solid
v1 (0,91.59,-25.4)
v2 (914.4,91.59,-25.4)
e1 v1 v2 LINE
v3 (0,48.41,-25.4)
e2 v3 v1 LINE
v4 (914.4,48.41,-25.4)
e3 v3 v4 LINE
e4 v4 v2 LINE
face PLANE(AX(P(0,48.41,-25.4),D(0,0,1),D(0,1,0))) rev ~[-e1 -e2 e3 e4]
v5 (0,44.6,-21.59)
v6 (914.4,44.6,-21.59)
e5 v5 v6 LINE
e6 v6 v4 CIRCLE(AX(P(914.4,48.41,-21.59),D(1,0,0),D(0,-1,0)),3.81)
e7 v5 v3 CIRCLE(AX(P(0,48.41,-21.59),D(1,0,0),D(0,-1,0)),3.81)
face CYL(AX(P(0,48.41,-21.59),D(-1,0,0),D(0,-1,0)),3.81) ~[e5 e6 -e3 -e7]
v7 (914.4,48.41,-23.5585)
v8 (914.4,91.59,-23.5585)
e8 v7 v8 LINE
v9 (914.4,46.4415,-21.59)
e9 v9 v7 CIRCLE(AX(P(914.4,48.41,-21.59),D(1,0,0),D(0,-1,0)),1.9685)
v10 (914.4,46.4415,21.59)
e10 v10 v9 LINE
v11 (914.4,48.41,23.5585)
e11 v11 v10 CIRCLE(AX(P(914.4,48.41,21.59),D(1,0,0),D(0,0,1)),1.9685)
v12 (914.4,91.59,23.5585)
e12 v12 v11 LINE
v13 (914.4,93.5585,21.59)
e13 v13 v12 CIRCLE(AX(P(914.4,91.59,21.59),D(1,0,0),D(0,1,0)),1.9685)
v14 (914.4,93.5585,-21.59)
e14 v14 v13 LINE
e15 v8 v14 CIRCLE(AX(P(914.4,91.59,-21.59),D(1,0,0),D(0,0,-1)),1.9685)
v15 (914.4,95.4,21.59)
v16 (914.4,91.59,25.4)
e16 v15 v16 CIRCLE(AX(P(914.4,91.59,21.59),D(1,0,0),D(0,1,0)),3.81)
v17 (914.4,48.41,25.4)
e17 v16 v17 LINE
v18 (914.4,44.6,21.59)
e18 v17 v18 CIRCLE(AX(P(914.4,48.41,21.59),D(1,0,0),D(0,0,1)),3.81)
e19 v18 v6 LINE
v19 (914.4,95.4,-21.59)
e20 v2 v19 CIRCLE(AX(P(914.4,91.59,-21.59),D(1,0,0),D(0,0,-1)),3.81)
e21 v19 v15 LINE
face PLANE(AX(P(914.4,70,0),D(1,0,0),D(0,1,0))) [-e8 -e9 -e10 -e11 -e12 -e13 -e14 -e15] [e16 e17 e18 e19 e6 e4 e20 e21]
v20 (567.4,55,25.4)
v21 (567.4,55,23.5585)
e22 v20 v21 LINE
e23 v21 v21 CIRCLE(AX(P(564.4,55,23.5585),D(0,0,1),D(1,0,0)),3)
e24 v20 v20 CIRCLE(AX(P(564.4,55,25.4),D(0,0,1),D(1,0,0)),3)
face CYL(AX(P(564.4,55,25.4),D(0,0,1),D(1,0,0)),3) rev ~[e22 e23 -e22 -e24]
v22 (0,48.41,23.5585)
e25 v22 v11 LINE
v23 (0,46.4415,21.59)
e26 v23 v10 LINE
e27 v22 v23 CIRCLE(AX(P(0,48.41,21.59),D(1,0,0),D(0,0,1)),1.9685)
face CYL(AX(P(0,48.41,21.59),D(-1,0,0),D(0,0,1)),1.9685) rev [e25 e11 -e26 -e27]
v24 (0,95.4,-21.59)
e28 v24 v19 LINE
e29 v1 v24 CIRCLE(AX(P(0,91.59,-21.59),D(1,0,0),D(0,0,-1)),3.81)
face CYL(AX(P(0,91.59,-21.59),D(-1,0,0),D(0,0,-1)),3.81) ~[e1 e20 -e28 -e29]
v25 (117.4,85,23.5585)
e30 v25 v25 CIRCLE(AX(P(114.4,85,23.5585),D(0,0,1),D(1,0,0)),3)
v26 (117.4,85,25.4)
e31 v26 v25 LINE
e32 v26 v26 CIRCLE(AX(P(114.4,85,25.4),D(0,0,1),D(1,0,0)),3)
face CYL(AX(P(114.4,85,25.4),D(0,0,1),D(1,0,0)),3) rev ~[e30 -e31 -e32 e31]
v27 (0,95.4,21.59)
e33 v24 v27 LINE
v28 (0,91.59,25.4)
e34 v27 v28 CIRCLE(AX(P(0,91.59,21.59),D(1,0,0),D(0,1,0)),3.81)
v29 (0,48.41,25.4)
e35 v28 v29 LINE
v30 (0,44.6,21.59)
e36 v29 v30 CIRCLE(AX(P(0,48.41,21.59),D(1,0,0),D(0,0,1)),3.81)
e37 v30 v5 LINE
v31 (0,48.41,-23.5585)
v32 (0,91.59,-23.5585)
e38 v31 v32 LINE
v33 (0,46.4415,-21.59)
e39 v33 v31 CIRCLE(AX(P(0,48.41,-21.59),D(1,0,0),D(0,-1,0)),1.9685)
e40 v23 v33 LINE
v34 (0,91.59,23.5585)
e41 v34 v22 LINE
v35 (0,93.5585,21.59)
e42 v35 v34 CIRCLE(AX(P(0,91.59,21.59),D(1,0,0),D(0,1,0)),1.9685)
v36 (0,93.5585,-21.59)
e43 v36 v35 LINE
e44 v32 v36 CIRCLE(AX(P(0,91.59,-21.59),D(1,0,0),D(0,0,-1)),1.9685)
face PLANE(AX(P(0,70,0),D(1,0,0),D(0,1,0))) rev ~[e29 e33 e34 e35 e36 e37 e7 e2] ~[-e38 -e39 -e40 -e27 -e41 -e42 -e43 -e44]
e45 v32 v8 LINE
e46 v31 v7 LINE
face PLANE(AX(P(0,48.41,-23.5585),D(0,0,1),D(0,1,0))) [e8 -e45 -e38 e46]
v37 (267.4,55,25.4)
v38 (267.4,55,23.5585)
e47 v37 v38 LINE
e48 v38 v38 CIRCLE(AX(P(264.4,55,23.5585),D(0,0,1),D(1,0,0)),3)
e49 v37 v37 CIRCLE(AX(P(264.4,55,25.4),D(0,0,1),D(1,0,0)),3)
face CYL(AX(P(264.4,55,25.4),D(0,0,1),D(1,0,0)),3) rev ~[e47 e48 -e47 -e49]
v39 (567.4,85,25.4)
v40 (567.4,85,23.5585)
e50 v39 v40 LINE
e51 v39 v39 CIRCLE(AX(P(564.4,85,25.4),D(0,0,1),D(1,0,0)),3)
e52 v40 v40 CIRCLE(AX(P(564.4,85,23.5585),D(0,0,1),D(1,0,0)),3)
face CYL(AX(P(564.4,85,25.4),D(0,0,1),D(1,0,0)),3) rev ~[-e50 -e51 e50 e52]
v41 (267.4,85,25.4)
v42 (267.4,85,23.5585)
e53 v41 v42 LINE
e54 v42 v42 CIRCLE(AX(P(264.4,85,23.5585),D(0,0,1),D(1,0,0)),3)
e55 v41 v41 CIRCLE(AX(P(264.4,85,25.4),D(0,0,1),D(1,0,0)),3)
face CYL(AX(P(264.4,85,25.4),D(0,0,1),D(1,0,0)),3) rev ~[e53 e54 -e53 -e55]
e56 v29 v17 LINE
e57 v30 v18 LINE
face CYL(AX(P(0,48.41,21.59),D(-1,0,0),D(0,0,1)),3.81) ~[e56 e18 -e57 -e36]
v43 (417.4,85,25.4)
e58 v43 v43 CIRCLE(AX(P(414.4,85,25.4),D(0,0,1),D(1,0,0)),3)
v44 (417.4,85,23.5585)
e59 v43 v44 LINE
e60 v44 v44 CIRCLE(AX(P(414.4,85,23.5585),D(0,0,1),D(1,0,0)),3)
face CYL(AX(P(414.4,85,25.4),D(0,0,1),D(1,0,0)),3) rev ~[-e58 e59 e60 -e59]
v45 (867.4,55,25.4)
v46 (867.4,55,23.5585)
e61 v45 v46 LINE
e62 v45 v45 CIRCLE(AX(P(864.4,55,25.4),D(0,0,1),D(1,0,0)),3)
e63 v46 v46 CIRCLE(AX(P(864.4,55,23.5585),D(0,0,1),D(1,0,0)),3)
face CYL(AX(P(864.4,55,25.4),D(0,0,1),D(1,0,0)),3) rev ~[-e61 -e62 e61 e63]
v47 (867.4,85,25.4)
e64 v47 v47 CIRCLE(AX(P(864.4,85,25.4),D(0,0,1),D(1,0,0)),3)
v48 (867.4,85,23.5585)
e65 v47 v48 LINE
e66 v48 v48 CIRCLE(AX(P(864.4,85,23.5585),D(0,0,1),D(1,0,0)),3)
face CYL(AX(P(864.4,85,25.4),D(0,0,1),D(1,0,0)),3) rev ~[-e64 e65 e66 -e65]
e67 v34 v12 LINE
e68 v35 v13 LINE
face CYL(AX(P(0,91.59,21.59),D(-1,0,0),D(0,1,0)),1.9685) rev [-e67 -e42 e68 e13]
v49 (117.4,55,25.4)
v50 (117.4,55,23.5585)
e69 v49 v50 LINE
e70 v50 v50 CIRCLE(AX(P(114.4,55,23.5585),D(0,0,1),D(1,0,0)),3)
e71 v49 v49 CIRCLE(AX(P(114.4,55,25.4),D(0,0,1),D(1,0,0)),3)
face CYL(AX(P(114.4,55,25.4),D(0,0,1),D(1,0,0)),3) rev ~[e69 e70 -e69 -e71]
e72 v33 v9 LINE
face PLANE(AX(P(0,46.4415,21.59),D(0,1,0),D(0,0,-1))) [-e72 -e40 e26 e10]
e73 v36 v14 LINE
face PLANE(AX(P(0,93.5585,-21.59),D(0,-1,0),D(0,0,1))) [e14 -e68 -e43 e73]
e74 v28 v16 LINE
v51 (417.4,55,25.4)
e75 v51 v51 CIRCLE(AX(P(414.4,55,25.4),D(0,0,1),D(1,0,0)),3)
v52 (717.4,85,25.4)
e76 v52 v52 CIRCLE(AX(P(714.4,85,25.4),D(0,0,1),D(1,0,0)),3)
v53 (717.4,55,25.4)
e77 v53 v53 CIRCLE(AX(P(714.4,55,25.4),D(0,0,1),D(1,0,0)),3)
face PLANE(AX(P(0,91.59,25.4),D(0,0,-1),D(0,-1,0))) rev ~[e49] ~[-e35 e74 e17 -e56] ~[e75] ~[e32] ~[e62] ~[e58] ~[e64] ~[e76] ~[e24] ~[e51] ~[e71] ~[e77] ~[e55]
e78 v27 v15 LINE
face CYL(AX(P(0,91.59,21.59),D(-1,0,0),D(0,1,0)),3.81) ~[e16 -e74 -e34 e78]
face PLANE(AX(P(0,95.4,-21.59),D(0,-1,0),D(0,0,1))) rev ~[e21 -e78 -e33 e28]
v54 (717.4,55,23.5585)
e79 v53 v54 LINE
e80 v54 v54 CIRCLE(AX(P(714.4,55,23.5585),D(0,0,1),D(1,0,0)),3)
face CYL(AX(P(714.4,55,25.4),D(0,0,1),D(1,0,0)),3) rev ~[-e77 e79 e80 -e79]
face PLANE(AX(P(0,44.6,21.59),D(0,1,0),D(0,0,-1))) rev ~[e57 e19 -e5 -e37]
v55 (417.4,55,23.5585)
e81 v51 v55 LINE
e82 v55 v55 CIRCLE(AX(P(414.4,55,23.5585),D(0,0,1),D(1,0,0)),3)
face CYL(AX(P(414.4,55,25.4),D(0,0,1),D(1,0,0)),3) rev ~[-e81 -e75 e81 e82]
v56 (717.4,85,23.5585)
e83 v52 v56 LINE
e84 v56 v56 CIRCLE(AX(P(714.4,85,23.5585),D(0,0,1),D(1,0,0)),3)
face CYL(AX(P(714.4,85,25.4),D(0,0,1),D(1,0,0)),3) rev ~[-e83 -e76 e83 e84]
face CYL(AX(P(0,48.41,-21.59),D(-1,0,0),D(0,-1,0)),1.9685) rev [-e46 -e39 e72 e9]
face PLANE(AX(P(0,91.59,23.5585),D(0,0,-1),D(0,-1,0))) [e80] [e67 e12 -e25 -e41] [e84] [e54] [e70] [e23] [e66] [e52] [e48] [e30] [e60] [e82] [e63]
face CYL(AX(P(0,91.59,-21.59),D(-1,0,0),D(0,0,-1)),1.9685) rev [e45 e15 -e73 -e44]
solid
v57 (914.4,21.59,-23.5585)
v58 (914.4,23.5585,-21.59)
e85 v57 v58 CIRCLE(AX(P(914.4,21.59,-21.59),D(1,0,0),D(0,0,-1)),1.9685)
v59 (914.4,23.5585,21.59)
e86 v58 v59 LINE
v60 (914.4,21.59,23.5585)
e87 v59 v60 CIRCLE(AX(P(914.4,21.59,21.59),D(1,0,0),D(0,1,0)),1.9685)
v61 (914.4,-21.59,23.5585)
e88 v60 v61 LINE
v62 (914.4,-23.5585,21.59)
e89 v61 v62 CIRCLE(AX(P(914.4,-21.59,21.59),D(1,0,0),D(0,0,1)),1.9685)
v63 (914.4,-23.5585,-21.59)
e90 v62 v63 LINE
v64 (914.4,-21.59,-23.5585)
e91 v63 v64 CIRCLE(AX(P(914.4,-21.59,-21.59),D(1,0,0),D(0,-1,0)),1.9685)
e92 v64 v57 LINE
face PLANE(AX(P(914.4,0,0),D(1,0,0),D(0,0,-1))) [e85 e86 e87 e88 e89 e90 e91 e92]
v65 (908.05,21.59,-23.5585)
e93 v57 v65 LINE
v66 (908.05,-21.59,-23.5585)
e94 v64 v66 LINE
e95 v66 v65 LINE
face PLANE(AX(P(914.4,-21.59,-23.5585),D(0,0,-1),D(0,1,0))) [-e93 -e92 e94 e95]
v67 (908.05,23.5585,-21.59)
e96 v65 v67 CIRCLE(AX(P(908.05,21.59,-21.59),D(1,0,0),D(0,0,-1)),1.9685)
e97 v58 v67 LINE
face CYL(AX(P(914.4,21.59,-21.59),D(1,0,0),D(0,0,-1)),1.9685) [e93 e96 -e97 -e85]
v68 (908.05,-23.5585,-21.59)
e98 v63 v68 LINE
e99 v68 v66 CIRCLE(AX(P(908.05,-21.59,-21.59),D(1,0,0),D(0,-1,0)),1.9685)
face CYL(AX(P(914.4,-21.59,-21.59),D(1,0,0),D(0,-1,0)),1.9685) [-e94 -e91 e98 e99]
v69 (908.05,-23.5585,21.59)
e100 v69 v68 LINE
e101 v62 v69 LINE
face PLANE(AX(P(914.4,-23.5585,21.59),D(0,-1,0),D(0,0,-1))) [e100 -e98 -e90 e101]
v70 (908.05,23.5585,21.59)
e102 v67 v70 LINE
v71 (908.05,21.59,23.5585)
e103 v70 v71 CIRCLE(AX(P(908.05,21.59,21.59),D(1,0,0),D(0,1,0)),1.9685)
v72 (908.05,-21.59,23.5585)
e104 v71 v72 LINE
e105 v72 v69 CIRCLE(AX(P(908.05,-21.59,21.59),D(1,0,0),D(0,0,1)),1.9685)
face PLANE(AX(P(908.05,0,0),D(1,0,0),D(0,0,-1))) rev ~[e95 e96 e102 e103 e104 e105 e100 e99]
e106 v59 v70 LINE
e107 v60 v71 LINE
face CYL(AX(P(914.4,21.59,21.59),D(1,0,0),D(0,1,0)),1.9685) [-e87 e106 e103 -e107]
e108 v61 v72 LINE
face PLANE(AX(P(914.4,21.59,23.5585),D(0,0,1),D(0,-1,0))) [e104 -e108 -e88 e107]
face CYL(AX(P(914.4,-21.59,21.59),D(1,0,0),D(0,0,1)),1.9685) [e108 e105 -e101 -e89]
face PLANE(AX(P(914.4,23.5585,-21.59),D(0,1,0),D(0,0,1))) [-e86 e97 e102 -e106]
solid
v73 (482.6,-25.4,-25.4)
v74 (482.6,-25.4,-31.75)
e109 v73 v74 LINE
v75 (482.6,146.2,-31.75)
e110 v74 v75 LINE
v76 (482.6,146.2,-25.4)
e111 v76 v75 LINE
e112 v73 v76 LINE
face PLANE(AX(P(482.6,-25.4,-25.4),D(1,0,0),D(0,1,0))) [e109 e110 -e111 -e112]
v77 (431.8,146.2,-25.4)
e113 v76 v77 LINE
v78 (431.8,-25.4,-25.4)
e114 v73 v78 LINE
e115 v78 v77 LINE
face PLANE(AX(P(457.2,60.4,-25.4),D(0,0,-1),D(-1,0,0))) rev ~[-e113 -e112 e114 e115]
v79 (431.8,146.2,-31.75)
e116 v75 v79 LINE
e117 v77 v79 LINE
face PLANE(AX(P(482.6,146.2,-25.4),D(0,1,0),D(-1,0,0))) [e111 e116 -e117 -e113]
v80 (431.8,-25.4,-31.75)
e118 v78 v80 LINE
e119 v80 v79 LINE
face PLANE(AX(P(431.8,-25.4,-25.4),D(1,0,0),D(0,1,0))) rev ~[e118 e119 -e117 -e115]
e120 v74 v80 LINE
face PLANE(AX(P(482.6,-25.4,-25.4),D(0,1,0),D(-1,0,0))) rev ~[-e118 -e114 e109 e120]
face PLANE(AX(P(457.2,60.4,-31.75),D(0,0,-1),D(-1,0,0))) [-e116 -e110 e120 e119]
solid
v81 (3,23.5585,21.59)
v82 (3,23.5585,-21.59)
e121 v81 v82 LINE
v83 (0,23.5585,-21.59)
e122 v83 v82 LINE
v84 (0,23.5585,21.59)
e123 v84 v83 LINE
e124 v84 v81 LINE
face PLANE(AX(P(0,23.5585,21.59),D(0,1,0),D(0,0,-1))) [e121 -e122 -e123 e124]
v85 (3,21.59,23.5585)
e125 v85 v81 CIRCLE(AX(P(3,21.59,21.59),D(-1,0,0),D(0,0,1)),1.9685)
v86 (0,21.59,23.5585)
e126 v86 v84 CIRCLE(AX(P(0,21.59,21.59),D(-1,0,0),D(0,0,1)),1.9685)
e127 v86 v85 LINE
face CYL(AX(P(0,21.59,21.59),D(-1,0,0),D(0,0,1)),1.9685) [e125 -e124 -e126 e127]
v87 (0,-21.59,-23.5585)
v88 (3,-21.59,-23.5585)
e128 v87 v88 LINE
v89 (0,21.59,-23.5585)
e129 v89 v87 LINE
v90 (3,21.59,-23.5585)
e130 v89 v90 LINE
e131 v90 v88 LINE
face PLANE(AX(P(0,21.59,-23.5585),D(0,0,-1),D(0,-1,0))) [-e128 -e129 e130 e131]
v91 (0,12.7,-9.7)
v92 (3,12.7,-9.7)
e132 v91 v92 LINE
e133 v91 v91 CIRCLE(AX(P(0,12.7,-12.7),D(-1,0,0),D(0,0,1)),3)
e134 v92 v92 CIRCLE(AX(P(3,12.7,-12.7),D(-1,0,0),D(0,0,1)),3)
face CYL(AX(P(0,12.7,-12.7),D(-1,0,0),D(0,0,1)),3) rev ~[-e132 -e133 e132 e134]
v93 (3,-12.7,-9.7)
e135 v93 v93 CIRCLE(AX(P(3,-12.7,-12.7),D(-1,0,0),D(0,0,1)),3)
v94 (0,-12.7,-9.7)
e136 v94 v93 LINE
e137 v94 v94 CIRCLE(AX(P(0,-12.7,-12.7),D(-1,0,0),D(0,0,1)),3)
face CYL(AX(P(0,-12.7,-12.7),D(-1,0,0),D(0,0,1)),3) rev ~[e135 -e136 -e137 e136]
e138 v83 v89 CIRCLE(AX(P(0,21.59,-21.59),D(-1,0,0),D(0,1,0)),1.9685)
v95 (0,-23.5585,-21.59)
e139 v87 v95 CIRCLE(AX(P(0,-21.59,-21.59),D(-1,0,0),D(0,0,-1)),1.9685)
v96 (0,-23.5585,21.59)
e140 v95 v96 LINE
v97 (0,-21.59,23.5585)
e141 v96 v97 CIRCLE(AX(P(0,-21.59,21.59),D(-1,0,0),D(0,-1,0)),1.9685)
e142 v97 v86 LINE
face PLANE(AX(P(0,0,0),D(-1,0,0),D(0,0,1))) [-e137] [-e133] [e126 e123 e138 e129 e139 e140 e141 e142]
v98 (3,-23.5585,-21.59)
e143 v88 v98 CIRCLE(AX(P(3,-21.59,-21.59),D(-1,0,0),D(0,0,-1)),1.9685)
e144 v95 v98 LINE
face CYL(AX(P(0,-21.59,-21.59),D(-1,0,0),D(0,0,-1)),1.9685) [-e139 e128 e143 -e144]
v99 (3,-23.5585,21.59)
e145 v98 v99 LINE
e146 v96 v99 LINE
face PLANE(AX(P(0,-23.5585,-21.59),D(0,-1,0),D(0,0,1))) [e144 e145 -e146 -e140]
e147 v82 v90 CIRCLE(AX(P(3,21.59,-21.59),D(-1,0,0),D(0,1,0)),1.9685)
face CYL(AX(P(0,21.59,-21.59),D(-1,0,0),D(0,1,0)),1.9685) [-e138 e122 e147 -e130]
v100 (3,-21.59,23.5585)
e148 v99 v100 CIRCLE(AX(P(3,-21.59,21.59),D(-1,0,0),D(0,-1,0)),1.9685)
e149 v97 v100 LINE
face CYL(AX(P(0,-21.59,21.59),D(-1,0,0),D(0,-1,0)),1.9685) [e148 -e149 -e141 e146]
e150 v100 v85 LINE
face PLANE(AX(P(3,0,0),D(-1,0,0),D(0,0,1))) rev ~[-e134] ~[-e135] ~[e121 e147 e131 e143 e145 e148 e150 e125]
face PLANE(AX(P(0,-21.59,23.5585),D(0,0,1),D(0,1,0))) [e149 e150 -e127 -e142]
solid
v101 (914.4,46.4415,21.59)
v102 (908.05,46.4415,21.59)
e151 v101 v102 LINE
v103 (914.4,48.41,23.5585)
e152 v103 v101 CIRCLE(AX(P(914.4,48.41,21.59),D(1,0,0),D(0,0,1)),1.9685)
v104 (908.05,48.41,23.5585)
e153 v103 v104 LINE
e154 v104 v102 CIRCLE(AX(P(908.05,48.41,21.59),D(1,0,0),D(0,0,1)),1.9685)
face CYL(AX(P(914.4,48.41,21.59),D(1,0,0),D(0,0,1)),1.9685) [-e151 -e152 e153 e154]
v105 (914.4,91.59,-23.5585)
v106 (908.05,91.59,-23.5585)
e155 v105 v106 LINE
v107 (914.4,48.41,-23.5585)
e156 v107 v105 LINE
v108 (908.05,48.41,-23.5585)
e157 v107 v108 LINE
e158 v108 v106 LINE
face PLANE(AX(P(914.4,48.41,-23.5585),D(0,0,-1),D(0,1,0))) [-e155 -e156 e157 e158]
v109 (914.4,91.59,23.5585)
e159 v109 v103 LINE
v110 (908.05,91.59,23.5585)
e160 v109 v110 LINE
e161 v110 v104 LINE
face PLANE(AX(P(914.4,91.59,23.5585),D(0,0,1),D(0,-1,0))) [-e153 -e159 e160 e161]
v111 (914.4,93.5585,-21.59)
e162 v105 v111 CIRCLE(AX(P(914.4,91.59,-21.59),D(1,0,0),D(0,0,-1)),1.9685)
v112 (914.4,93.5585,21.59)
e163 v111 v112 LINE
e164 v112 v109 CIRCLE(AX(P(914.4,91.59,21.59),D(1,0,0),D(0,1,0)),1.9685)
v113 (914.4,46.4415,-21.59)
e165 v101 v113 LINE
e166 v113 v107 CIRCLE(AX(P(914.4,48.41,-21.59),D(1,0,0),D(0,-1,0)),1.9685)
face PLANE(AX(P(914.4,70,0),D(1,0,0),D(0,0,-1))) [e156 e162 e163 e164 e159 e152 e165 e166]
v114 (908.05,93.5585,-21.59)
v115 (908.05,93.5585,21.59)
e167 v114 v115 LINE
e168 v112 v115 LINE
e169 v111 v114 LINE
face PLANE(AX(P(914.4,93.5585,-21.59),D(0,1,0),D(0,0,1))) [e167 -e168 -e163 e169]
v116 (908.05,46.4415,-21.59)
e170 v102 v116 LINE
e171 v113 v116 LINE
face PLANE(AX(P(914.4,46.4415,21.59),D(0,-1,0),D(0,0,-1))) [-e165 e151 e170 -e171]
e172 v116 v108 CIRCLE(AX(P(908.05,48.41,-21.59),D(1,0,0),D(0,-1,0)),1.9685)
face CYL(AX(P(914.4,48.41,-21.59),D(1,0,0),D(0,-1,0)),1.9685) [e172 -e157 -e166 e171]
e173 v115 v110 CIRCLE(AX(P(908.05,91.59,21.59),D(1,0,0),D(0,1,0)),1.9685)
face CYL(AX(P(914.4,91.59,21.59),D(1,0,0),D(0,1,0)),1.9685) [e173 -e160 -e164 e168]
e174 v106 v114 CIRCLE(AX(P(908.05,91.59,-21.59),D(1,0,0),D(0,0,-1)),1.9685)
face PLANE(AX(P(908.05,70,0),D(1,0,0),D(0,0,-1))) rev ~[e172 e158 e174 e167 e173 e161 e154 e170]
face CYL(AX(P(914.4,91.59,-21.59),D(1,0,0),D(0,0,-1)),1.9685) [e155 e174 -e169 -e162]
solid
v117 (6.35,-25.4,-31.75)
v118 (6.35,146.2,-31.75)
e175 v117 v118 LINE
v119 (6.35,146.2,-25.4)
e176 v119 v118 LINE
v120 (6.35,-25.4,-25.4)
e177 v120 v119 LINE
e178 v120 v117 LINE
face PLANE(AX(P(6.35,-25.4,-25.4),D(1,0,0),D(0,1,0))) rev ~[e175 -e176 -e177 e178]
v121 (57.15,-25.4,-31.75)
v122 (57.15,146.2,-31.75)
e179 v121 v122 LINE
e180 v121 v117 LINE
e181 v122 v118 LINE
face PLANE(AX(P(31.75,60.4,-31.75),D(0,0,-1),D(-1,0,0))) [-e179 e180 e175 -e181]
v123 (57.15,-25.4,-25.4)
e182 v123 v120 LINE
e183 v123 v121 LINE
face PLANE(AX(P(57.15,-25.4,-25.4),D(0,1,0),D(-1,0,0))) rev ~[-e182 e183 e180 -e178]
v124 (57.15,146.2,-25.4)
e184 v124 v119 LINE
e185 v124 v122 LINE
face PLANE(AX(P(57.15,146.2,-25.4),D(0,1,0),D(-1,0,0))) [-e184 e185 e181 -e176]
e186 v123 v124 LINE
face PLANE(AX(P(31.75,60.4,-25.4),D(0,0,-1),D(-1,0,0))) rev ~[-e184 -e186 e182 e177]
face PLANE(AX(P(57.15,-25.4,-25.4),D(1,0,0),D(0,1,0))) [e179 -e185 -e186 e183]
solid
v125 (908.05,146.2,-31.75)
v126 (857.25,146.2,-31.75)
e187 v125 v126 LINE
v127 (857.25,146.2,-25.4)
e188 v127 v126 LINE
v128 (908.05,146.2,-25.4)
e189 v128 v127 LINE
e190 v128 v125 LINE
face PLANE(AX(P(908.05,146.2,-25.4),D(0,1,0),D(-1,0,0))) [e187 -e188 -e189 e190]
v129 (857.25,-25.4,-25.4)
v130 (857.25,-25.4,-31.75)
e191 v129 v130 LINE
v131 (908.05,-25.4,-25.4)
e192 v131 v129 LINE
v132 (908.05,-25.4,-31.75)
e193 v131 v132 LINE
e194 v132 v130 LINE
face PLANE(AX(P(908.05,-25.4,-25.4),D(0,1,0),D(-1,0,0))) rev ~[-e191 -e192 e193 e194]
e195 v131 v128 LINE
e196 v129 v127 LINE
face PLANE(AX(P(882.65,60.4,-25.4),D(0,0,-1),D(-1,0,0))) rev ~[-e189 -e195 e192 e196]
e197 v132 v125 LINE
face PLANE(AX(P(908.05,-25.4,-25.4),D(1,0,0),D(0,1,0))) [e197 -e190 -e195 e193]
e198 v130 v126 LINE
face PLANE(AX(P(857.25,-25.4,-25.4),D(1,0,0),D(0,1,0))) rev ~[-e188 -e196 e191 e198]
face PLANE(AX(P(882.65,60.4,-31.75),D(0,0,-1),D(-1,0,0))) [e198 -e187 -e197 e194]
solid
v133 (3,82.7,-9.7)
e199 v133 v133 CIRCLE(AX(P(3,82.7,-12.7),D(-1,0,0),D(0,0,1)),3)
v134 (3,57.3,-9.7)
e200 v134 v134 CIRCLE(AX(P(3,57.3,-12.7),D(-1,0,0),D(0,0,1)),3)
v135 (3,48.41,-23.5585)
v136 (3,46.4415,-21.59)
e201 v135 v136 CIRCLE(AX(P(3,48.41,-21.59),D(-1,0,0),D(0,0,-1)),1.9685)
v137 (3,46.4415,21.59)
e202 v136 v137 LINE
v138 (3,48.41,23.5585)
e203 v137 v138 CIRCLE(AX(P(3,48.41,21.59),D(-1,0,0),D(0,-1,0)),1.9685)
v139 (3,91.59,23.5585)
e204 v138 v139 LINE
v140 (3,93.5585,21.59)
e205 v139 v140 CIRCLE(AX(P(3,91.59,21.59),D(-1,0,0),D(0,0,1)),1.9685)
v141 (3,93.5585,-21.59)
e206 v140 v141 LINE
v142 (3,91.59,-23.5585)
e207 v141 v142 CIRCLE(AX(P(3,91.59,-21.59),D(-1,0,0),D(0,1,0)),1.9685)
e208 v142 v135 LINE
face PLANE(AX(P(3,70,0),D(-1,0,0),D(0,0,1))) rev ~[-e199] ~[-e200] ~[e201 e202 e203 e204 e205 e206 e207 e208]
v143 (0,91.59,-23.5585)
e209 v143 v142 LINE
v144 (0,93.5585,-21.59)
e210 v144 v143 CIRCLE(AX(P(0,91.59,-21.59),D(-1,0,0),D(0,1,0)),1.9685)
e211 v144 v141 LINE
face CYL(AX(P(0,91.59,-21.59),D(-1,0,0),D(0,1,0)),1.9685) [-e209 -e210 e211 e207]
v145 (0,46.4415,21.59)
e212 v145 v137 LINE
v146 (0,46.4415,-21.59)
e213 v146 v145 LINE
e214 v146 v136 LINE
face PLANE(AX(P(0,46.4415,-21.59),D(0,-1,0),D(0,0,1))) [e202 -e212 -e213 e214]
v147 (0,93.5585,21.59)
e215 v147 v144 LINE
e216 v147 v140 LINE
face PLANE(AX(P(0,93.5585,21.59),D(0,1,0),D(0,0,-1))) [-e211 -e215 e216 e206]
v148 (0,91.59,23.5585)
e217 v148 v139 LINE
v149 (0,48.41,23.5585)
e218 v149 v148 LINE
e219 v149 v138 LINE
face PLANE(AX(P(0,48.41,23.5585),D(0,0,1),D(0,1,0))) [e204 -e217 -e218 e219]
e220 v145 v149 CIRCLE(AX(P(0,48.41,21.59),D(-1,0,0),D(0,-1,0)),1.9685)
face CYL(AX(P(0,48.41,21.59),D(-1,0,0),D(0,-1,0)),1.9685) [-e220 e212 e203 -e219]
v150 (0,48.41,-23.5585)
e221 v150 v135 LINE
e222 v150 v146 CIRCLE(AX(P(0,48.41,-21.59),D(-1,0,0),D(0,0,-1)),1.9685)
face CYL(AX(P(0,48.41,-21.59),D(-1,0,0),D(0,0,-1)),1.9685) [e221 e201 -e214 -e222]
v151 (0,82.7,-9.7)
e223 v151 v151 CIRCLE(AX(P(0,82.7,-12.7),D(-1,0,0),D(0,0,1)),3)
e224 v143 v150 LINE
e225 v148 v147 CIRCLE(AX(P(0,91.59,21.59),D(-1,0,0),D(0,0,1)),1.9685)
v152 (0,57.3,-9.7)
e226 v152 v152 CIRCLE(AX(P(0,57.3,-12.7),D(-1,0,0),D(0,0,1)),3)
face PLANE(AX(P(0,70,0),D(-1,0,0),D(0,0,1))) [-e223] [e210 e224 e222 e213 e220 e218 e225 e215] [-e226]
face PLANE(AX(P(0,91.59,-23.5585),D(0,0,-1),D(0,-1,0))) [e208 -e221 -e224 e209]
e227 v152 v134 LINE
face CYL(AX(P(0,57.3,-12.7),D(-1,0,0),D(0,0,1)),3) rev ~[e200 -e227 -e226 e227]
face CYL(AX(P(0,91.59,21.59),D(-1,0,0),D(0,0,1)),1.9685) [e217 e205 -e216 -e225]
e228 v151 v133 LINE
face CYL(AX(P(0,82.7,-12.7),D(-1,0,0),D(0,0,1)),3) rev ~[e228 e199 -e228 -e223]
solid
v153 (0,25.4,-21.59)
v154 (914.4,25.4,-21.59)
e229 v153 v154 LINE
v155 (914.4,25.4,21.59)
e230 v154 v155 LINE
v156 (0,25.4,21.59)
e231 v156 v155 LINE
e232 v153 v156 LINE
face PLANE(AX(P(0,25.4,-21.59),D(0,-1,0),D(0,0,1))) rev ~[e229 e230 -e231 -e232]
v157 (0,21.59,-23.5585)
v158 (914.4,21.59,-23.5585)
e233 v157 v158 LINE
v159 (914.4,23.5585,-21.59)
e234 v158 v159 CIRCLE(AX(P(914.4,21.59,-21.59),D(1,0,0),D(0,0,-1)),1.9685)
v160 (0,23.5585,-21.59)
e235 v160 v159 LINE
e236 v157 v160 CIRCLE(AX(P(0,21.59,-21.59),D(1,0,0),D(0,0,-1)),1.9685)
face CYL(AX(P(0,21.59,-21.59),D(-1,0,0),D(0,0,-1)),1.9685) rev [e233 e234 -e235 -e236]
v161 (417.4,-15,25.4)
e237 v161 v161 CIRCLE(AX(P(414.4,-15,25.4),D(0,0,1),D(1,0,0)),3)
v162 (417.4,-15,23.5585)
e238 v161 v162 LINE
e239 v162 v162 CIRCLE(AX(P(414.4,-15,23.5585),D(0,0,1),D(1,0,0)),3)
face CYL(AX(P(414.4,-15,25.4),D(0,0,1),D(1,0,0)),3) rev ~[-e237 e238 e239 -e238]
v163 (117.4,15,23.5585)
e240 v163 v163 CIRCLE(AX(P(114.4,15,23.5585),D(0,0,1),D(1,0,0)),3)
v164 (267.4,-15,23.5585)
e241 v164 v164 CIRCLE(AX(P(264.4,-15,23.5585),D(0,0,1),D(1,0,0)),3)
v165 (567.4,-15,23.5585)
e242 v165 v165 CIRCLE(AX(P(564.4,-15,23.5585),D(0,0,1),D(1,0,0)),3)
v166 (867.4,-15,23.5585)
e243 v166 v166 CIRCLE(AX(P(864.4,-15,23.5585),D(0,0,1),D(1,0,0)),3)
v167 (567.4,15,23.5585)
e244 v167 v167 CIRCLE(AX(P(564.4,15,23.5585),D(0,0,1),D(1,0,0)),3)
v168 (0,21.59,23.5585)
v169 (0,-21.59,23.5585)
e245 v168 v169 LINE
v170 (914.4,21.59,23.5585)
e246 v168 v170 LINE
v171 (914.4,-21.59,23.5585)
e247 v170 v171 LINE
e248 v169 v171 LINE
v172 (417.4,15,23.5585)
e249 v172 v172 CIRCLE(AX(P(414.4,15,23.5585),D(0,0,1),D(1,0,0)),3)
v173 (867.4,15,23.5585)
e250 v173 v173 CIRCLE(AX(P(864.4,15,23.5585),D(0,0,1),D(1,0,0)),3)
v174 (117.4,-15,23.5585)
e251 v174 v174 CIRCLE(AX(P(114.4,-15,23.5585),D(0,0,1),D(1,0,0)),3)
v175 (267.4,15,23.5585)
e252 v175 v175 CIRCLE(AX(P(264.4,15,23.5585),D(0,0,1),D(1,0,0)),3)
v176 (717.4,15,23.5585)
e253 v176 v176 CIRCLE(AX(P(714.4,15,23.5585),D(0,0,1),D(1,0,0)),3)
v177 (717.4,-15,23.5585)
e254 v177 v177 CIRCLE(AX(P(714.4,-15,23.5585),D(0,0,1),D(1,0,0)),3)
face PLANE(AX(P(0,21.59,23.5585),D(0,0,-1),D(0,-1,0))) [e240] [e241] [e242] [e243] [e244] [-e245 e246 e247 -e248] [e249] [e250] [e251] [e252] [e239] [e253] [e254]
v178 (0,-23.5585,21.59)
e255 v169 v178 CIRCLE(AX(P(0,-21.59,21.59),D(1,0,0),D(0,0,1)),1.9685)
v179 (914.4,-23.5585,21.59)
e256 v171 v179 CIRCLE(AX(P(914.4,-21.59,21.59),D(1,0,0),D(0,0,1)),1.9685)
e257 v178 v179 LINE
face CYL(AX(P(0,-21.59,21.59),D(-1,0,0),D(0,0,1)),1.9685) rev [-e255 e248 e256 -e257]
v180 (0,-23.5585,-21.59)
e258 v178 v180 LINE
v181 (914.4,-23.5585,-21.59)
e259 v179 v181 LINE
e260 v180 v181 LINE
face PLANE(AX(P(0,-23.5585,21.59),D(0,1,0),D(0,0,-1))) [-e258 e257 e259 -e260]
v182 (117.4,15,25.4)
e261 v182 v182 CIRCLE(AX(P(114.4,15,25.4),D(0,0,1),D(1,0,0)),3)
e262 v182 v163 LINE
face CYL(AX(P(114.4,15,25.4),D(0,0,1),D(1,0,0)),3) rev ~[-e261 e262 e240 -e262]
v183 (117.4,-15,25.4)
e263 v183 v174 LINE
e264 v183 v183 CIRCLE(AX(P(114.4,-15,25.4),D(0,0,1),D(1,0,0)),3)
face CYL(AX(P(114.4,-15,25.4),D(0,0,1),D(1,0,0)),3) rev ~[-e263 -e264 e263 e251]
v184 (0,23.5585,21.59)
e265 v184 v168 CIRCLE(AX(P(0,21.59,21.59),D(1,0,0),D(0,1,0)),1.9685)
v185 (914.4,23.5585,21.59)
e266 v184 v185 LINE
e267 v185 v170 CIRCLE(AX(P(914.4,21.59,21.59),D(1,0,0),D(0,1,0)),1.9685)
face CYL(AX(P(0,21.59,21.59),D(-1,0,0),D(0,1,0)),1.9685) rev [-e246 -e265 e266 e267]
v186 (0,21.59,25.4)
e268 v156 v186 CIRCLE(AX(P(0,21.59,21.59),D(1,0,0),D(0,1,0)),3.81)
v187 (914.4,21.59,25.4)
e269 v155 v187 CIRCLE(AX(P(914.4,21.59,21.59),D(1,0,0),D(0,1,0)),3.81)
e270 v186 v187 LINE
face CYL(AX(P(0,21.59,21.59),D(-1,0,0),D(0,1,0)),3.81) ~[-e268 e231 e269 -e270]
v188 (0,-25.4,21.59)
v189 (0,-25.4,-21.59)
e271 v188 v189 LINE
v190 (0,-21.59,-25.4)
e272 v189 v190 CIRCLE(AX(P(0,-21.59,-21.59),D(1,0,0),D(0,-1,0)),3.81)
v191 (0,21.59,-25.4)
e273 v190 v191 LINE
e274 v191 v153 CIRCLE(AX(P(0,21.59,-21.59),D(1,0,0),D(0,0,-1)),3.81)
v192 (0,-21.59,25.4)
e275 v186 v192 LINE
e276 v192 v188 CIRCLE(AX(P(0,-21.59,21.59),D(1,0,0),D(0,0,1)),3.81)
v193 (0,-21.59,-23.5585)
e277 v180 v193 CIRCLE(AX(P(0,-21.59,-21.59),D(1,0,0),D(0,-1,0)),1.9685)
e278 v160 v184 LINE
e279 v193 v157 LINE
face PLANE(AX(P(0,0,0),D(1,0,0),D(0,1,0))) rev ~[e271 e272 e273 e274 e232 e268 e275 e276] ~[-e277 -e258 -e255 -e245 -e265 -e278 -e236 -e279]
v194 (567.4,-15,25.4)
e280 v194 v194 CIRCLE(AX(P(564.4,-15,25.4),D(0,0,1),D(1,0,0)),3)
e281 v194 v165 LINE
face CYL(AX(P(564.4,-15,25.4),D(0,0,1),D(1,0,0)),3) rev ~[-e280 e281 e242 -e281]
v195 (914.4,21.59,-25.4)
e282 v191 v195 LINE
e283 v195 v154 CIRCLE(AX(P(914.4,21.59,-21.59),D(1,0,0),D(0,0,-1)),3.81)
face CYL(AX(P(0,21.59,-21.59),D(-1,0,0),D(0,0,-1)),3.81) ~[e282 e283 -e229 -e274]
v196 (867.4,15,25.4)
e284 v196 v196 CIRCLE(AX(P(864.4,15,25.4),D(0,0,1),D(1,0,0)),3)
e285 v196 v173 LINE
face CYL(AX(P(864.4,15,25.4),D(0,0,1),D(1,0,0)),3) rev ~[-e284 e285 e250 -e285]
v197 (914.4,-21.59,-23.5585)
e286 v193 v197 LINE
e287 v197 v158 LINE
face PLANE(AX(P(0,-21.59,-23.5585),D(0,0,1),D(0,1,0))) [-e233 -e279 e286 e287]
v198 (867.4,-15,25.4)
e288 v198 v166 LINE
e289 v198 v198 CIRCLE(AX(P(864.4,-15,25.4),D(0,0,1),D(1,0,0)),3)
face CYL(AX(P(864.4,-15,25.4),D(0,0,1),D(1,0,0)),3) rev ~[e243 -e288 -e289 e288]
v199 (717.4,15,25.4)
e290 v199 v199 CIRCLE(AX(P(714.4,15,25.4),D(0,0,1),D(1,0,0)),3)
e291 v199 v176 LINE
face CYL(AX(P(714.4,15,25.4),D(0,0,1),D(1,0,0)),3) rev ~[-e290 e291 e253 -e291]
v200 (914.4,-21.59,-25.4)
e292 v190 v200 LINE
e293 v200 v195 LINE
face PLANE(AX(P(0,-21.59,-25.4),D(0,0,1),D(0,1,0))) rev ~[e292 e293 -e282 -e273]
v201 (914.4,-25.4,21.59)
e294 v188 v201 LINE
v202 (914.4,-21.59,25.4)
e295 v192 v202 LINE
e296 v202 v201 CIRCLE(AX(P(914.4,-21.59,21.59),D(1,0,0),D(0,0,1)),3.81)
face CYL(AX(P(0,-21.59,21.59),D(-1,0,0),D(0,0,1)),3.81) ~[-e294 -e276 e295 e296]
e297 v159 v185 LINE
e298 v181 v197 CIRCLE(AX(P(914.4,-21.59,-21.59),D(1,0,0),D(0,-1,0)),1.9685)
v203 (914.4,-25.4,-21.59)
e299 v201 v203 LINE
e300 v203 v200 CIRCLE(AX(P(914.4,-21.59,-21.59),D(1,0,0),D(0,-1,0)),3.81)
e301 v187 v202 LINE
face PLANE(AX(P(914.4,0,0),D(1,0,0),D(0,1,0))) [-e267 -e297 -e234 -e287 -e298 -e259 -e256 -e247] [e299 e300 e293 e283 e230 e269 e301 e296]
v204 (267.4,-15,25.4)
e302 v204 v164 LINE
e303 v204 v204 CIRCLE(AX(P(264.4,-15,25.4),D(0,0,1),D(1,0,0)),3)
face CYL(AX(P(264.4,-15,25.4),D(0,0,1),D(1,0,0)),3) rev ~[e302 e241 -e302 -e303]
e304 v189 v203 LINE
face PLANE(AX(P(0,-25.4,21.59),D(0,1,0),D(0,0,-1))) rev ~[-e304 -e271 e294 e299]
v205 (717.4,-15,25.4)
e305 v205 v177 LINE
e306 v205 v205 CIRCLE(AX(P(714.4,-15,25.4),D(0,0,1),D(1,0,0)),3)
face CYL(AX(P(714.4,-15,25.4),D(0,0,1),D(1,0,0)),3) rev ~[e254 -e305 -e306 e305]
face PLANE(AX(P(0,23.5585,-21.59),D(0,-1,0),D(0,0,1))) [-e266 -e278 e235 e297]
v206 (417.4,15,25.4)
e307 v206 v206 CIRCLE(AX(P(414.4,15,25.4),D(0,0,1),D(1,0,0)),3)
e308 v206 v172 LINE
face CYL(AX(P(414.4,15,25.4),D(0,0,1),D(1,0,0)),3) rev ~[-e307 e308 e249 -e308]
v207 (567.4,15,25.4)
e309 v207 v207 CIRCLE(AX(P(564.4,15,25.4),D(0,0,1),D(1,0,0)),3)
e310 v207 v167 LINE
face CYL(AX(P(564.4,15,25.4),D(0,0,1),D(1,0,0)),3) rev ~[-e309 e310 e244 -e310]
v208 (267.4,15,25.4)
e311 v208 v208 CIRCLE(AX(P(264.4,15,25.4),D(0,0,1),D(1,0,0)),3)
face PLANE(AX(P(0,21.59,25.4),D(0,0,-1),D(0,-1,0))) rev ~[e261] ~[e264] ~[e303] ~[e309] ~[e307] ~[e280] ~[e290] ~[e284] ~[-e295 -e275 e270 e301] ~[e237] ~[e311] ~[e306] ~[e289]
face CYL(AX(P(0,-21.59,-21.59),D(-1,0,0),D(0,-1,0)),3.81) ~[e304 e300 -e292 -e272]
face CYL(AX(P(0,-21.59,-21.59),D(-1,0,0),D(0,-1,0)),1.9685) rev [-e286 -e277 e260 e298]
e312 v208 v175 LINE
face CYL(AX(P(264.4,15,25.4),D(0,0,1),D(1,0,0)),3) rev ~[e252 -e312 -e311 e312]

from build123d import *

# Parameters (mm, degrees)
F_2X2_SQUARE_TUBE_2X2X0_725_SQUARE_TUBE_1_DEPTH = 914.4
F_2X2_SQUARE_TUBE_2X2X0_725_SQUARE_TUB_2_DEPTH  = 914.4
BOSS_EXTRUDE1_DEPTH                             = 3
BOSS_EXTRUDE1_2_DEPTH                           = 3
BOSS_EXTRUDE4_DEPTH                             = 6.35
BOSS_EXTRUDE4_2_DEPTH                           = 6.35
SKETCH13_W                                      = 50.8
SKETCH13_H                                      = 171.6
BOSS_EXTRUDE3_DEPTH                             = 6.35
BOSS_EXTRUDE3_2_DEPTH                           = 6.35
BOSS_EXTRUDE3_3_DEPTH                           = 6.35
SKETCH16_R                                      = 3
CUT_EXTRUDE1_DEPTH                              = 1.8415
LPATTERN1_COUNT                                 = 6
LPATTERN1_PITCH                                 = 150
SKETCH18_R                                      = 3
CUT_EXTRUDE2_DEPTH                              = 3


with BuildPart() as part:
    # Sketch15 → 2x2 square tube 2X2X0.725 SQUARE TUBE(1) (new body)
    with BuildSketch(Plane(origin=(0, 70, 0), x_dir=(0, 1, 0), z_dir=(1, 0, 0))):
        with BuildLine():
            Line((-21.59, -25.4), (21.59, -25.4))
            ThreePointArc((21.59, -25.4), (24.284076836, -24.284076836), (25.4, -21.59))
            Line((25.4, -21.59), (25.4, 21.59))
            ThreePointArc((25.4, 21.59), (24.284076836, 24.284076836), (21.59, 25.4))
            Line((21.59, 25.4), (-21.59, 25.4))
            ThreePointArc((-21.59, 25.4), (-24.284076836, 24.284076836), (-25.4, 21.59))
            Line((-25.4, 21.59), (-25.4, -21.59))
            ThreePointArc((-25.4, -21.59), (-24.284076836, -24.284076836), (-21.59, -25.4))
        make_face()
        with BuildLine():
            Line((23.5585, -21.59), (23.5585, 21.59))
            ThreePointArc((23.5585, 21.59), (22.981939699, 22.981939699), (21.59, 23.5585))
            Line((21.59, 23.5585), (-21.59, 23.5585))
            ThreePointArc((-21.59, 23.5585), (-22.981939699, 22.981939699), (-23.5585, 21.59))
            Line((-23.5585, 21.59), (-23.5585, -21.59))
            ThreePointArc((-23.5585, -21.59), (-22.981939699, -22.981939699), (-21.59, -23.5585))
            Line((-21.59, -23.5585), (21.59, -23.5585))
            ThreePointArc((21.59, -23.5585), (22.981939699, -22.981939699), (23.5585, -21.59))
        make_face(mode=Mode.SUBTRACT)
    extrude(amount=F_2X2_SQUARE_TUBE_2X2X0_725_SQUARE_TUBE_1_DEPTH)


with BuildPart() as body_2:
    # Sketch15 on segment 2 (carried to segment 2) → 2x2 square tube 2X2X0.725 SQUARE TUB 2 (new body)
    with BuildSketch(Plane.YZ):
        with BuildLine():
            Line((-21.59, -25.4), (21.59, -25.4))
            ThreePointArc((21.59, -25.4), (24.284076836, -24.284076836), (25.4, -21.59))
            Line((25.4, -21.59), (25.4, 21.59))
            ThreePointArc((25.4, 21.59), (24.284076836, 24.284076836), (21.59, 25.4))
            Line((21.59, 25.4), (-21.59, 25.4))
            ThreePointArc((-21.59, 25.4), (-24.284076836, 24.284076836), (-25.4, 21.59))
            Line((-25.4, 21.59), (-25.4, -21.59))
            ThreePointArc((-25.4, -21.59), (-24.284076836, -24.284076836), (-21.59, -25.4))
        make_face()
        with BuildLine():
            Line((23.5585, -21.59), (23.5585, 21.59))
            ThreePointArc((23.5585, 21.59), (22.981939699, 22.981939699), (21.59, 23.5585))
            Line((21.59, 23.5585), (-21.59, 23.5585))
            ThreePointArc((-21.59, 23.5585), (-22.981939699, 22.981939699), (-23.5585, 21.59))
            Line((-23.5585, 21.59), (-23.5585, -21.59))
            ThreePointArc((-23.5585, -21.59), (-22.981939699, -22.981939699), (-21.59, -23.5585))
            Line((-21.59, -23.5585), (21.59, -23.5585))
            ThreePointArc((21.59, -23.5585), (22.981939699, -22.981939699), (23.5585, -21.59))
        make_face(mode=Mode.SUBTRACT)
    extrude(amount=F_2X2_SQUARE_TUBE_2X2X0_725_SQUARE_TUB_2_DEPTH)


with BuildPart() as body_3:
    # Sketch12 → Boss-Extrude1 (new body)
    with BuildSketch(Plane.ZY):
        with BuildLine():
            Line((-21.59, -23.5585), (21.59, -23.5585))
            ThreePointArc((21.59, -23.5585), (22.981939699, -22.981939699), (23.5585, -21.59))
            Line((23.5585, -21.59), (23.5585, 21.59))
            ThreePointArc((23.5585, 21.59), (22.981939699, 22.981939699), (21.59, 23.5585))
            Line((21.59, 23.5585), (-21.59, 23.5585))
            ThreePointArc((-21.59, 23.5585), (-22.981939699, 22.981939699), (-23.5585, 21.59))
            Line((-23.5585, 21.59), (-23.5585, -21.59))
            ThreePointArc((-23.5585, -21.59), (-22.981939699, -22.981939699), (-21.59, -23.5585))
        make_face()
    extrude(amount=-BOSS_EXTRUDE1_DEPTH)


with BuildPart() as body_4:
    # Sketch12 → Boss-Extrude1 2 (new body)
    with BuildSketch(Plane.ZY):
        with BuildLine():
            Line((-21.59, 46.4415), (21.59, 46.4415))
            ThreePointArc((21.59, 46.4415), (22.981939699, 47.018060301), (23.5585, 48.41))
            Line((23.5585, 48.41), (23.5585, 91.59))
            ThreePointArc((23.5585, 91.59), (22.981939699, 92.981939699), (21.59, 93.5585))
            Line((21.59, 93.5585), (-21.59, 93.5585))
            ThreePointArc((-21.59, 93.5585), (-22.981939699, 92.981939699), (-23.5585, 91.59))
            Line((-23.5585, 91.59), (-23.5585, 48.41))
            ThreePointArc((-23.5585, 48.41), (-22.981939699, 47.018060301), (-21.59, 46.4415))
        make_face()
    extrude(amount=-BOSS_EXTRUDE1_2_DEPTH)


with BuildPart() as body_5:
    # Sketch17 → Boss-Extrude4 (new body)
    with BuildSketch(Plane(origin=(914.4, 0, 0), x_dir=(0, 0, -1), z_dir=(1, 0, 0))):
        with BuildLine():
            Line((23.5585, -21.59), (23.5585, 21.59))
            ThreePointArc((23.5585, 21.59), (22.981939699, 22.981939699), (21.59, 23.5585))
            Line((21.59, 23.5585), (-21.59, 23.5585))
            ThreePointArc((-21.59, 23.5585), (-22.981939699, 22.981939699), (-23.5585, 21.59))
            Line((-23.5585, 21.59), (-23.5585, -21.59))
            ThreePointArc((-23.5585, -21.59), (-22.981939699, -22.981939699), (-21.59, -23.5585))
            Line((-21.59, -23.5585), (21.59, -23.5585))
            ThreePointArc((21.59, -23.5585), (22.981939699, -22.981939699), (23.5585, -21.59))
        make_face()
    extrude(amount=-BOSS_EXTRUDE4_DEPTH)


with BuildPart() as body_6:
    # Sketch17 → Boss-Extrude4 2 (new body)
    with BuildSketch(Plane(origin=(914.4, 0, 0), x_dir=(0, 0, -1), z_dir=(1, 0, 0))):
        with BuildLine():
            Line((23.5585, 48.41), (23.5585, 91.59))
            ThreePointArc((23.5585, 91.59), (22.981939699, 92.981939699), (21.59, 93.5585))
            Line((21.59, 93.5585), (-21.59, 93.5585))
            ThreePointArc((-21.59, 93.5585), (-22.981939699, 92.981939699), (-23.5585, 91.59))
            Line((-23.5585, 91.59), (-23.5585, 48.41))
            ThreePointArc((-23.5585, 48.41), (-22.981939699, 47.018060301), (-21.59, 46.4415))
            Line((-21.59, 46.4415), (21.59, 46.4415))
            ThreePointArc((21.59, 46.4415), (22.981939699, 47.018060301), (23.5585, 48.41))
        make_face()
    extrude(amount=-BOSS_EXTRUDE4_2_DEPTH)


with BuildPart() as body_7:
    # Sketch13 → Boss-Extrude3 (new body)
    with BuildSketch(Plane(origin=(0, 0, -25.4), x_dir=(-1, 0, 0), z_dir=(0, 0, -1))):
        with Locations((-882.649999999, 60.4)):
            Rectangle(SKETCH13_W, SKETCH13_H)
    extrude(amount=BOSS_EXTRUDE3_DEPTH)


with BuildPart() as body_8:
    # Sketch13 → Boss-Extrude3 2 (new body)
    with BuildSketch(Plane(origin=(0, 0, -25.4), x_dir=(-1, 0, 0), z_dir=(0, 0, -1))):
        with Locations((-457.2, 60.4)):
            Rectangle(SKETCH13_W, SKETCH13_H)
    extrude(amount=BOSS_EXTRUDE3_2_DEPTH)


with BuildPart() as body_9:
    # Sketch13 → Boss-Extrude3 3 (new body)
    with BuildSketch(Plane(origin=(0, 0, -25.4), x_dir=(-1, 0, 0), z_dir=(0, 0, -1))):
        with Locations((-31.75, 60.4)):
            Rectangle(SKETCH13_W, SKETCH13_H)
    extrude(amount=BOSS_EXTRUDE3_3_DEPTH)


with BuildPart() as cut_extrude1_tool:
    # Sketch16 → Cut-Extrude1 (new body)
    with BuildSketch(Plane.XY.offset(25.4)):
        with Locations((864.4, 85)):
            Circle(SKETCH16_R)
        with Locations((864.4, 55)):
            Circle(SKETCH16_R)
        with Locations((864.4, 15)):
            Circle(SKETCH16_R)
        with Locations((864.4, -15)):
            Circle(SKETCH16_R)
    cut_extrude1 = extrude(amount=-CUT_EXTRUDE1_DEPTH)


with BuildPart() as part_1:
    add(part.part)

    # Cut-Extrude1: cut by cut_extrude1_tool
    add(cut_extrude1_tool.part, mode=Mode.SUBTRACT)


with BuildPart() as body_2_1:
    add(body_2.part)

    # Cut-Extrude1: cut by cut_extrude1_tool
    add(cut_extrude1_tool.part, mode=Mode.SUBTRACT)


with BuildPart() as lpattern1_tool:
    # LPattern1: Cut-Extrude1 ×6
    with Locations(*[(-i * LPATTERN1_PITCH, 0, 0) for i in range(1, LPATTERN1_COUNT)]):
        add(cut_extrude1)


with BuildPart() as part_2:
    add(part_1.part)

    # LPattern1: cut by lpattern1_tool
    add(lpattern1_tool.part, mode=Mode.SUBTRACT)


with BuildPart() as body_2_2:
    add(body_2_1.part)

    # LPattern1: cut by lpattern1_tool
    add(lpattern1_tool.part, mode=Mode.SUBTRACT)


with BuildPart() as cut_extrude2_tool:
    # Sketch18 → Cut-Extrude2 (new body)
    with BuildSketch(Plane.ZY):
        with Locations((-12.7, -12.7)):
            Circle(SKETCH18_R)
        with Locations((-12.7, 12.7)):
            Circle(SKETCH18_R)
        with Locations((-12.7, 57.3)):
            Circle(SKETCH18_R)
        with Locations((-12.7, 82.7)):
            Circle(SKETCH18_R)
    extrude(amount=-CUT_EXTRUDE2_DEPTH)


with BuildPart() as body_3_1:
    add(body_3.part)

    # Cut-Extrude2: cut by cut_extrude2_tool
    add(cut_extrude2_tool.part, mode=Mode.SUBTRACT)


with BuildPart() as body_4_1:
    add(body_4.part)

    # Cut-Extrude2: cut by cut_extrude2_tool
    add(cut_extrude2_tool.part, mode=Mode.SUBTRACT)


solid = Compound([body_5.part, body_6.part, body_7.part, body_8.part, body_9.part, part_2.part, body_2_2.part, body_3_1.part, body_4_1.part])
